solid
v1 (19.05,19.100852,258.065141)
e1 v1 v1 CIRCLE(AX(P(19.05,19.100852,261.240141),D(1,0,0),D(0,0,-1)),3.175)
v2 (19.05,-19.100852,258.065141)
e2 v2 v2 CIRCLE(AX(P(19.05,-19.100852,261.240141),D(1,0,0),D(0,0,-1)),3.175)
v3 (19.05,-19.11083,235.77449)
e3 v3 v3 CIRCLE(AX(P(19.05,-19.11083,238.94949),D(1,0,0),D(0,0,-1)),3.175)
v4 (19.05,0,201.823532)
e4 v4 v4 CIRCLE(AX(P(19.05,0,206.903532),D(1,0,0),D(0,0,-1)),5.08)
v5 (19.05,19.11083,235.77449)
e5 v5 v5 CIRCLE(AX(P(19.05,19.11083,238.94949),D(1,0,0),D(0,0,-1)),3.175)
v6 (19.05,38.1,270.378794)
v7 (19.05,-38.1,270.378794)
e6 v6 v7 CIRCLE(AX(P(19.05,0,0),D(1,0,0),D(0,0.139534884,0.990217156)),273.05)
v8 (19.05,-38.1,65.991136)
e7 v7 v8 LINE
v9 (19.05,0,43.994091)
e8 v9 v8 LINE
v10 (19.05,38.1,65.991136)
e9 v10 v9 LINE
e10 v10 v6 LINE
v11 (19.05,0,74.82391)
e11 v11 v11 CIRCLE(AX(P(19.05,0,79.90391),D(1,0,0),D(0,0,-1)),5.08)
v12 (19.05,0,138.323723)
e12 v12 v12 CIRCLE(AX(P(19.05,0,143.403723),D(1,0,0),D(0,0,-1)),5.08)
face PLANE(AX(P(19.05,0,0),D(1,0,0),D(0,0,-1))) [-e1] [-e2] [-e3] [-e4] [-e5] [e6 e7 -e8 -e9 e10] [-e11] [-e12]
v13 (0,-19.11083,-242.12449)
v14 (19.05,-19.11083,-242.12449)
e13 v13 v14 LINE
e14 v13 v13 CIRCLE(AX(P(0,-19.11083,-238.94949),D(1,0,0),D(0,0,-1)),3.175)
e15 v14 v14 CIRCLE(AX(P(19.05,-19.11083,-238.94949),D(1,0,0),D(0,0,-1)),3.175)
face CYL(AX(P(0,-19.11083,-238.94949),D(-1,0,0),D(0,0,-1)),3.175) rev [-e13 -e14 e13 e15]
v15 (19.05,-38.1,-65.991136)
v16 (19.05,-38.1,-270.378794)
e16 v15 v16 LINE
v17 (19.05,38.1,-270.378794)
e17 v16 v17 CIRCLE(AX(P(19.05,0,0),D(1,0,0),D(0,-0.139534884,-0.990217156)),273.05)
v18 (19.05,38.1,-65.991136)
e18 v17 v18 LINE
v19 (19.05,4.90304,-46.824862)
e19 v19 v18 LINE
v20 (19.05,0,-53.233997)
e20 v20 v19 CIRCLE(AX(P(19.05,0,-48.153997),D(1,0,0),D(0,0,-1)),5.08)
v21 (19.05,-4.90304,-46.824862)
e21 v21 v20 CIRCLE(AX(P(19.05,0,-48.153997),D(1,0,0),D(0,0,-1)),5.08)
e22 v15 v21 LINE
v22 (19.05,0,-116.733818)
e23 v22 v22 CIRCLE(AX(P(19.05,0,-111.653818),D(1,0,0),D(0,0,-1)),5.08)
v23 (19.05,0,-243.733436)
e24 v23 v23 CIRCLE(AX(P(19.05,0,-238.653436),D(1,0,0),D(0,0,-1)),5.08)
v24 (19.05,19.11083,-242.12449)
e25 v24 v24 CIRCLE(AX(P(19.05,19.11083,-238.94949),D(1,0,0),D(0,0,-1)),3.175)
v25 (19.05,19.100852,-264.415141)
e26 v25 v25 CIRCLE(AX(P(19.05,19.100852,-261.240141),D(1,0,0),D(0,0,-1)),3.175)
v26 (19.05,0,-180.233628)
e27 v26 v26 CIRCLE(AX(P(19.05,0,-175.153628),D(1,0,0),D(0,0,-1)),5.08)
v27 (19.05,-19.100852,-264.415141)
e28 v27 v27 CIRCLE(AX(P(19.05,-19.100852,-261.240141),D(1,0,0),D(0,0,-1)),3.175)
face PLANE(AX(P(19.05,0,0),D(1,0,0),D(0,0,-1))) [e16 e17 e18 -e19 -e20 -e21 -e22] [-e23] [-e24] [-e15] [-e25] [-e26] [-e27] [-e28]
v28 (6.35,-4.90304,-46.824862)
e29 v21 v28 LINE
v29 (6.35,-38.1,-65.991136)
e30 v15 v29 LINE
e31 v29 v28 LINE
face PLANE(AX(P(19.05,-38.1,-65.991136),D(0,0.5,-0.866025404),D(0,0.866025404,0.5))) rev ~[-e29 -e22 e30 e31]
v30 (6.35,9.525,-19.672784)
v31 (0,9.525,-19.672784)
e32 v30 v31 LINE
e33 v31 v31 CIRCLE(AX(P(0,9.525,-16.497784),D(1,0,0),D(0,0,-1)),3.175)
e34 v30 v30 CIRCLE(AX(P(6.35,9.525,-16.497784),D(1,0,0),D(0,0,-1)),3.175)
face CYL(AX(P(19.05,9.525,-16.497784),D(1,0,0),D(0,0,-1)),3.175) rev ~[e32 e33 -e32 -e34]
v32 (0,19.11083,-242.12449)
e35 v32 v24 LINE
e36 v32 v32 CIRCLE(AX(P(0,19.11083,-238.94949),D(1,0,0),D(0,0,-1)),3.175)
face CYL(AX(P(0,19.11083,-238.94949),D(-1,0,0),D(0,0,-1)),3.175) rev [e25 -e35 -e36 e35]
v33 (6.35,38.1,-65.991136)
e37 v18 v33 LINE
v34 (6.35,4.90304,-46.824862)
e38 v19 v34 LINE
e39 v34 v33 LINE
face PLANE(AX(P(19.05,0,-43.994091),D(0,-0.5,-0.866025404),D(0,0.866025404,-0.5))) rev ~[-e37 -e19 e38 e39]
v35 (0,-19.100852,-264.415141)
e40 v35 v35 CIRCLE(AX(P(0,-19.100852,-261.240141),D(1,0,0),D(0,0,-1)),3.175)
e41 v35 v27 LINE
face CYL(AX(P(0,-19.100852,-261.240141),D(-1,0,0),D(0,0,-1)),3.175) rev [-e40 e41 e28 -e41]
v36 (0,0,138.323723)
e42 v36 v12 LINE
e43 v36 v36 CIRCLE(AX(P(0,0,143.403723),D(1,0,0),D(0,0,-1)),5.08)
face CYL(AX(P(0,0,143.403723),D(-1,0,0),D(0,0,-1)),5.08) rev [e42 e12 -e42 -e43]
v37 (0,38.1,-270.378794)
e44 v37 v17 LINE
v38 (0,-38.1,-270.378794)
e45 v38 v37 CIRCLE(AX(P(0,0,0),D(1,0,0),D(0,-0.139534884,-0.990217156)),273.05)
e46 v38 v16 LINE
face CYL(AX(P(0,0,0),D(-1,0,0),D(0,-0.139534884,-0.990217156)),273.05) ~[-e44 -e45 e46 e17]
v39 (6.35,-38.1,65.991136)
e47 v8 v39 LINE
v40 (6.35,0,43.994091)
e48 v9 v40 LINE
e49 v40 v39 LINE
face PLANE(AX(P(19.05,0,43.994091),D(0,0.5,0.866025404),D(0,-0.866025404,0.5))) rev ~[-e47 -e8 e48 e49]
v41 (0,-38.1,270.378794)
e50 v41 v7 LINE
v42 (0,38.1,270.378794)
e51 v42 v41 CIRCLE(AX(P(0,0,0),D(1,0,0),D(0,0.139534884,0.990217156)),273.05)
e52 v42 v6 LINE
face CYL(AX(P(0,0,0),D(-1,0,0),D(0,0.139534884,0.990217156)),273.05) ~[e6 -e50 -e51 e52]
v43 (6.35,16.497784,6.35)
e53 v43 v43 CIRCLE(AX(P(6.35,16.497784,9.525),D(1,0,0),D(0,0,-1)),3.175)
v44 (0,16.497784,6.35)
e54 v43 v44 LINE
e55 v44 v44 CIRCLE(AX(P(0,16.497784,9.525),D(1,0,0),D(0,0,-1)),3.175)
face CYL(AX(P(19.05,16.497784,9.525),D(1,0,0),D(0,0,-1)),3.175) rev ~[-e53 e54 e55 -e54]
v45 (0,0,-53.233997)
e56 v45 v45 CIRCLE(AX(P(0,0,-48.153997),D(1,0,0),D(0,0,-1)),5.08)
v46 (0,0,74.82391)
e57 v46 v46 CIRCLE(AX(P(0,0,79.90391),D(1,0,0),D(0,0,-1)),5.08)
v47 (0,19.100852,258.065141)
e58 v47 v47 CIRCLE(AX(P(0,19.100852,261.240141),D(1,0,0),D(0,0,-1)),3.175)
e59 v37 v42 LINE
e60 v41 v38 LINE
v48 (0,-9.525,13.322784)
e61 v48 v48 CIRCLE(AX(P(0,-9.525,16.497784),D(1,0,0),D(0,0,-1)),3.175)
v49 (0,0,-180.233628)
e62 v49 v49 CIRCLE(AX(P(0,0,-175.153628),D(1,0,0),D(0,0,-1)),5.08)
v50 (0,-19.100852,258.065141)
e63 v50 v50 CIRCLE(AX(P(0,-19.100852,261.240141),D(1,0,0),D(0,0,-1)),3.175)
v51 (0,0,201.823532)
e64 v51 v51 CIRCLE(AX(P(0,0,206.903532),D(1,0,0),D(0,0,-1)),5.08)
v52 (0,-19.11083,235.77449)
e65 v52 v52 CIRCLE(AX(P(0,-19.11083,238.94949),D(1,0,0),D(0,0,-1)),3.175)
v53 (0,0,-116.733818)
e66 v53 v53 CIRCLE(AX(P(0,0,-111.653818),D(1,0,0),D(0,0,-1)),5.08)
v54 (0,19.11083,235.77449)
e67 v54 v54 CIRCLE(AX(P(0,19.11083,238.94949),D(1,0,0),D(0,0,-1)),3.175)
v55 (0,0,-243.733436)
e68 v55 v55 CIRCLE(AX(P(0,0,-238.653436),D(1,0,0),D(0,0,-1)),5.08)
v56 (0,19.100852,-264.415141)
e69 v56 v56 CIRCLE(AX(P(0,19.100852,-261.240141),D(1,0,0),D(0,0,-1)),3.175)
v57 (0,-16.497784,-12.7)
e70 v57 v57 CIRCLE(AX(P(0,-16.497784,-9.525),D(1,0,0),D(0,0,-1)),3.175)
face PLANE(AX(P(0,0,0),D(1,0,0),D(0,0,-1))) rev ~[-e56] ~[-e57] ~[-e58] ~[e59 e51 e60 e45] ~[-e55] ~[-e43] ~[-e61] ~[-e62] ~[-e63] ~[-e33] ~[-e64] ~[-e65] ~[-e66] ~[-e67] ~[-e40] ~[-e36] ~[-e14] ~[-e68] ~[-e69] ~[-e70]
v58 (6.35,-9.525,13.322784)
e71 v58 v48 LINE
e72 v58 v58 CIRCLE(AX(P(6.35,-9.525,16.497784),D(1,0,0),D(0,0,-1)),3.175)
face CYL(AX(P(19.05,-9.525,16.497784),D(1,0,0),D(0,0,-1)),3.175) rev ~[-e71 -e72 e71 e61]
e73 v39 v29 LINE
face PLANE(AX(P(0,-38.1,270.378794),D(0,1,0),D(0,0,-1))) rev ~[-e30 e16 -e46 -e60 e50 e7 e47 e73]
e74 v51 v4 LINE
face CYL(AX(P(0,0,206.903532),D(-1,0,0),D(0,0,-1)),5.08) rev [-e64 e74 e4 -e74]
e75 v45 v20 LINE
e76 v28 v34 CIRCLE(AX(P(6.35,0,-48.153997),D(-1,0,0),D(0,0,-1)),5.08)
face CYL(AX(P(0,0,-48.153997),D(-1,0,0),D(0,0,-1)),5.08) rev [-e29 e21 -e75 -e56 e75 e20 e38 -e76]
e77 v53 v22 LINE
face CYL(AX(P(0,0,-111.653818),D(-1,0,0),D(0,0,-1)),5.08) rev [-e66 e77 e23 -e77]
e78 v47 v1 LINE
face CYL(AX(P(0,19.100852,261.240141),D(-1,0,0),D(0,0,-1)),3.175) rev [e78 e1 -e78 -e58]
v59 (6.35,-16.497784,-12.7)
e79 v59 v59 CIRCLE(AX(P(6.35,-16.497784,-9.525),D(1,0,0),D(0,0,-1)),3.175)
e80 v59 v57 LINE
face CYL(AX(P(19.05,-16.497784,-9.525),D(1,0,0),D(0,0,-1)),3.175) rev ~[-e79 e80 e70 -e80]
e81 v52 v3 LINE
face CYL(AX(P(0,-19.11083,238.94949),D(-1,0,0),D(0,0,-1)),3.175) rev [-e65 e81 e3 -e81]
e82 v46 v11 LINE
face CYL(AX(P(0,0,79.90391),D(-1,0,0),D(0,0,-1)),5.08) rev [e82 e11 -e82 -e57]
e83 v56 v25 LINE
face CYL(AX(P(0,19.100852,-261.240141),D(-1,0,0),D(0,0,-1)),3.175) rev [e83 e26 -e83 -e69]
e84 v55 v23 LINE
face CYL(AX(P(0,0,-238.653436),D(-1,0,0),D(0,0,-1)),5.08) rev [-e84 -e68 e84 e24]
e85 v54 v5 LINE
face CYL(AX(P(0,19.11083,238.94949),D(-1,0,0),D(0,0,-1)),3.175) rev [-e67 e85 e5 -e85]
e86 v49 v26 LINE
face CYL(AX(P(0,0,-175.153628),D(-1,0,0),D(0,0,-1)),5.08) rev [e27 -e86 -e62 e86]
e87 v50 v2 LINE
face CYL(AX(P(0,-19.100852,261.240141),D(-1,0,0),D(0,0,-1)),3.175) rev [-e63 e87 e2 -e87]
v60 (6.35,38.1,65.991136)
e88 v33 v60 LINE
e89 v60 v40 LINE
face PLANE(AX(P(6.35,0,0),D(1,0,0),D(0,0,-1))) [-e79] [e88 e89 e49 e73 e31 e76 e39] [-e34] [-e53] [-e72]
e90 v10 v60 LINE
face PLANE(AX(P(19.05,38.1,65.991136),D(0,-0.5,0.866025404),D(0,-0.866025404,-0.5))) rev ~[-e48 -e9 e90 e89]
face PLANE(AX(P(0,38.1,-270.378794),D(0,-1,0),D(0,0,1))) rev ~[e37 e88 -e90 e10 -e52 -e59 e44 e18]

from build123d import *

# Parameters (mm, degrees)
SKETCH2_R           = 5.08
SKETCH2_R_2         = 3.175
BOSS_EXTRUDE1_DEPTH = 19.05
SKETCH3_R           = 3.175
CUT_EXTRUDE1_DEPTH  = 12.7
SKETCH3_3_R         = 3.175
CUT_EXTRUDE2_DEPTH  = 277.352700367


with BuildPart() as part:
    # Sketch2 → Boss-Extrude1 (new body)
    with BuildSketch(Plane(origin=(0, 0, 0), x_dir=(0, 0, -1), z_dir=(1, 0, 0))):
        with BuildLine():
            ThreePointArc((-270.378794472, 38.1), (-273.05, 0), (-270.378794472, -38.1))
            Line((-270.378794472, -38.1), (270.378794472, -38.1))
            ThreePointArc((270.378794472, -38.1), (273.05, 0), (270.378794472, 38.1))
            Line((270.378794472, 38.1), (-270.378794472, 38.1))
        make_face()
        with Locations((-79.903910151, 0)):
            Circle(SKETCH2_R, mode=Mode.SUBTRACT)
        with Locations((-206.903531715, 0)):
            Circle(SKETCH2_R, mode=Mode.SUBTRACT)
        with Locations((-143.403723055, 0)):
            Circle(SKETCH2_R, mode=Mode.SUBTRACT)
        with Locations((175.153627627, 0)):
            Circle(SKETCH2_R, mode=Mode.SUBTRACT)
        with Locations((111.653817586, 0)):
            Circle(SKETCH2_R, mode=Mode.SUBTRACT)
        with Locations((48.15399686, 0)):
            Circle(SKETCH2_R, mode=Mode.SUBTRACT)
        with Locations((-238.949490115, 19.110830171)):
            Circle(SKETCH2_R_2, mode=Mode.SUBTRACT)
        with Locations((-261.240141142, -19.100852393)):
            Circle(SKETCH2_R_2, mode=Mode.SUBTRACT)
        with Locations((-238.949490115, -19.110830171)):
            Circle(SKETCH2_R_2, mode=Mode.SUBTRACT)
        with Locations((-261.240141142, 19.100852393)):
            Circle(SKETCH2_R_2, mode=Mode.SUBTRACT)
        with Locations((261.240141142, 19.100852393)):
            Circle(SKETCH2_R_2, mode=Mode.SUBTRACT)
        with Locations((238.949490115, 19.110830171)):
            Circle(SKETCH2_R_2, mode=Mode.SUBTRACT)
        with Locations((238.653435513, 0)):
            Circle(SKETCH2_R, mode=Mode.SUBTRACT)
        with Locations((238.949490115, -19.110830171)):
            Circle(SKETCH2_R_2, mode=Mode.SUBTRACT)
        with Locations((261.240141142, -19.100852393)):
            Circle(SKETCH2_R_2, mode=Mode.SUBTRACT)
    extrude(amount=BOSS_EXTRUDE1_DEPTH)

    # Sketch3 → Cut-Extrude1 (cut)
    with BuildSketch(Plane(origin=(19.05, 0, 0), x_dir=(0, 0, -1), z_dir=(1, 0, 0))):
        Polygon((-65.991135768, -38.1), (65.991135768, -38.1), (43.994090512, 0), (65.991135768, 38.1), (-65.991135768, 38.1), (-43.994090512, 0), align=None)
        with Locations((-16.497783942, -9.525)):
            Circle(SKETCH3_R, mode=Mode.SUBTRACT)
        with Locations((9.525, -16.497783942)):
            Circle(SKETCH3_R, mode=Mode.SUBTRACT)
        with Locations((-9.525, 16.497783942)):
            Circle(SKETCH3_R, mode=Mode.SUBTRACT)
        with Locations((16.497783942, 9.525)):
            Circle(SKETCH3_R, mode=Mode.SUBTRACT)
    extrude(amount=-CUT_EXTRUDE1_DEPTH, mode=Mode.SUBTRACT)

    # Sketch3<3> → Cut-Extrude2 (cut, through all)
    with BuildSketch(Plane(origin=(19.05, 0, 0), x_dir=(0, 0, -1), z_dir=(1, 0, 0))):
        with Locations((-9.525, 16.497783942)):
            Circle(SKETCH3_3_R)
        with Locations((-16.497783942, -9.525)):
            Circle(SKETCH3_3_R)
        with Locations((9.525, -16.497783942)):
            Circle(SKETCH3_3_R)
        with Locations((16.497783942, 9.525)):
            Circle(SKETCH3_3_R)
    extrude(amount=-CUT_EXTRUDE2_DEPTH, mode=Mode.SUBTRACT)


solid = part.part
